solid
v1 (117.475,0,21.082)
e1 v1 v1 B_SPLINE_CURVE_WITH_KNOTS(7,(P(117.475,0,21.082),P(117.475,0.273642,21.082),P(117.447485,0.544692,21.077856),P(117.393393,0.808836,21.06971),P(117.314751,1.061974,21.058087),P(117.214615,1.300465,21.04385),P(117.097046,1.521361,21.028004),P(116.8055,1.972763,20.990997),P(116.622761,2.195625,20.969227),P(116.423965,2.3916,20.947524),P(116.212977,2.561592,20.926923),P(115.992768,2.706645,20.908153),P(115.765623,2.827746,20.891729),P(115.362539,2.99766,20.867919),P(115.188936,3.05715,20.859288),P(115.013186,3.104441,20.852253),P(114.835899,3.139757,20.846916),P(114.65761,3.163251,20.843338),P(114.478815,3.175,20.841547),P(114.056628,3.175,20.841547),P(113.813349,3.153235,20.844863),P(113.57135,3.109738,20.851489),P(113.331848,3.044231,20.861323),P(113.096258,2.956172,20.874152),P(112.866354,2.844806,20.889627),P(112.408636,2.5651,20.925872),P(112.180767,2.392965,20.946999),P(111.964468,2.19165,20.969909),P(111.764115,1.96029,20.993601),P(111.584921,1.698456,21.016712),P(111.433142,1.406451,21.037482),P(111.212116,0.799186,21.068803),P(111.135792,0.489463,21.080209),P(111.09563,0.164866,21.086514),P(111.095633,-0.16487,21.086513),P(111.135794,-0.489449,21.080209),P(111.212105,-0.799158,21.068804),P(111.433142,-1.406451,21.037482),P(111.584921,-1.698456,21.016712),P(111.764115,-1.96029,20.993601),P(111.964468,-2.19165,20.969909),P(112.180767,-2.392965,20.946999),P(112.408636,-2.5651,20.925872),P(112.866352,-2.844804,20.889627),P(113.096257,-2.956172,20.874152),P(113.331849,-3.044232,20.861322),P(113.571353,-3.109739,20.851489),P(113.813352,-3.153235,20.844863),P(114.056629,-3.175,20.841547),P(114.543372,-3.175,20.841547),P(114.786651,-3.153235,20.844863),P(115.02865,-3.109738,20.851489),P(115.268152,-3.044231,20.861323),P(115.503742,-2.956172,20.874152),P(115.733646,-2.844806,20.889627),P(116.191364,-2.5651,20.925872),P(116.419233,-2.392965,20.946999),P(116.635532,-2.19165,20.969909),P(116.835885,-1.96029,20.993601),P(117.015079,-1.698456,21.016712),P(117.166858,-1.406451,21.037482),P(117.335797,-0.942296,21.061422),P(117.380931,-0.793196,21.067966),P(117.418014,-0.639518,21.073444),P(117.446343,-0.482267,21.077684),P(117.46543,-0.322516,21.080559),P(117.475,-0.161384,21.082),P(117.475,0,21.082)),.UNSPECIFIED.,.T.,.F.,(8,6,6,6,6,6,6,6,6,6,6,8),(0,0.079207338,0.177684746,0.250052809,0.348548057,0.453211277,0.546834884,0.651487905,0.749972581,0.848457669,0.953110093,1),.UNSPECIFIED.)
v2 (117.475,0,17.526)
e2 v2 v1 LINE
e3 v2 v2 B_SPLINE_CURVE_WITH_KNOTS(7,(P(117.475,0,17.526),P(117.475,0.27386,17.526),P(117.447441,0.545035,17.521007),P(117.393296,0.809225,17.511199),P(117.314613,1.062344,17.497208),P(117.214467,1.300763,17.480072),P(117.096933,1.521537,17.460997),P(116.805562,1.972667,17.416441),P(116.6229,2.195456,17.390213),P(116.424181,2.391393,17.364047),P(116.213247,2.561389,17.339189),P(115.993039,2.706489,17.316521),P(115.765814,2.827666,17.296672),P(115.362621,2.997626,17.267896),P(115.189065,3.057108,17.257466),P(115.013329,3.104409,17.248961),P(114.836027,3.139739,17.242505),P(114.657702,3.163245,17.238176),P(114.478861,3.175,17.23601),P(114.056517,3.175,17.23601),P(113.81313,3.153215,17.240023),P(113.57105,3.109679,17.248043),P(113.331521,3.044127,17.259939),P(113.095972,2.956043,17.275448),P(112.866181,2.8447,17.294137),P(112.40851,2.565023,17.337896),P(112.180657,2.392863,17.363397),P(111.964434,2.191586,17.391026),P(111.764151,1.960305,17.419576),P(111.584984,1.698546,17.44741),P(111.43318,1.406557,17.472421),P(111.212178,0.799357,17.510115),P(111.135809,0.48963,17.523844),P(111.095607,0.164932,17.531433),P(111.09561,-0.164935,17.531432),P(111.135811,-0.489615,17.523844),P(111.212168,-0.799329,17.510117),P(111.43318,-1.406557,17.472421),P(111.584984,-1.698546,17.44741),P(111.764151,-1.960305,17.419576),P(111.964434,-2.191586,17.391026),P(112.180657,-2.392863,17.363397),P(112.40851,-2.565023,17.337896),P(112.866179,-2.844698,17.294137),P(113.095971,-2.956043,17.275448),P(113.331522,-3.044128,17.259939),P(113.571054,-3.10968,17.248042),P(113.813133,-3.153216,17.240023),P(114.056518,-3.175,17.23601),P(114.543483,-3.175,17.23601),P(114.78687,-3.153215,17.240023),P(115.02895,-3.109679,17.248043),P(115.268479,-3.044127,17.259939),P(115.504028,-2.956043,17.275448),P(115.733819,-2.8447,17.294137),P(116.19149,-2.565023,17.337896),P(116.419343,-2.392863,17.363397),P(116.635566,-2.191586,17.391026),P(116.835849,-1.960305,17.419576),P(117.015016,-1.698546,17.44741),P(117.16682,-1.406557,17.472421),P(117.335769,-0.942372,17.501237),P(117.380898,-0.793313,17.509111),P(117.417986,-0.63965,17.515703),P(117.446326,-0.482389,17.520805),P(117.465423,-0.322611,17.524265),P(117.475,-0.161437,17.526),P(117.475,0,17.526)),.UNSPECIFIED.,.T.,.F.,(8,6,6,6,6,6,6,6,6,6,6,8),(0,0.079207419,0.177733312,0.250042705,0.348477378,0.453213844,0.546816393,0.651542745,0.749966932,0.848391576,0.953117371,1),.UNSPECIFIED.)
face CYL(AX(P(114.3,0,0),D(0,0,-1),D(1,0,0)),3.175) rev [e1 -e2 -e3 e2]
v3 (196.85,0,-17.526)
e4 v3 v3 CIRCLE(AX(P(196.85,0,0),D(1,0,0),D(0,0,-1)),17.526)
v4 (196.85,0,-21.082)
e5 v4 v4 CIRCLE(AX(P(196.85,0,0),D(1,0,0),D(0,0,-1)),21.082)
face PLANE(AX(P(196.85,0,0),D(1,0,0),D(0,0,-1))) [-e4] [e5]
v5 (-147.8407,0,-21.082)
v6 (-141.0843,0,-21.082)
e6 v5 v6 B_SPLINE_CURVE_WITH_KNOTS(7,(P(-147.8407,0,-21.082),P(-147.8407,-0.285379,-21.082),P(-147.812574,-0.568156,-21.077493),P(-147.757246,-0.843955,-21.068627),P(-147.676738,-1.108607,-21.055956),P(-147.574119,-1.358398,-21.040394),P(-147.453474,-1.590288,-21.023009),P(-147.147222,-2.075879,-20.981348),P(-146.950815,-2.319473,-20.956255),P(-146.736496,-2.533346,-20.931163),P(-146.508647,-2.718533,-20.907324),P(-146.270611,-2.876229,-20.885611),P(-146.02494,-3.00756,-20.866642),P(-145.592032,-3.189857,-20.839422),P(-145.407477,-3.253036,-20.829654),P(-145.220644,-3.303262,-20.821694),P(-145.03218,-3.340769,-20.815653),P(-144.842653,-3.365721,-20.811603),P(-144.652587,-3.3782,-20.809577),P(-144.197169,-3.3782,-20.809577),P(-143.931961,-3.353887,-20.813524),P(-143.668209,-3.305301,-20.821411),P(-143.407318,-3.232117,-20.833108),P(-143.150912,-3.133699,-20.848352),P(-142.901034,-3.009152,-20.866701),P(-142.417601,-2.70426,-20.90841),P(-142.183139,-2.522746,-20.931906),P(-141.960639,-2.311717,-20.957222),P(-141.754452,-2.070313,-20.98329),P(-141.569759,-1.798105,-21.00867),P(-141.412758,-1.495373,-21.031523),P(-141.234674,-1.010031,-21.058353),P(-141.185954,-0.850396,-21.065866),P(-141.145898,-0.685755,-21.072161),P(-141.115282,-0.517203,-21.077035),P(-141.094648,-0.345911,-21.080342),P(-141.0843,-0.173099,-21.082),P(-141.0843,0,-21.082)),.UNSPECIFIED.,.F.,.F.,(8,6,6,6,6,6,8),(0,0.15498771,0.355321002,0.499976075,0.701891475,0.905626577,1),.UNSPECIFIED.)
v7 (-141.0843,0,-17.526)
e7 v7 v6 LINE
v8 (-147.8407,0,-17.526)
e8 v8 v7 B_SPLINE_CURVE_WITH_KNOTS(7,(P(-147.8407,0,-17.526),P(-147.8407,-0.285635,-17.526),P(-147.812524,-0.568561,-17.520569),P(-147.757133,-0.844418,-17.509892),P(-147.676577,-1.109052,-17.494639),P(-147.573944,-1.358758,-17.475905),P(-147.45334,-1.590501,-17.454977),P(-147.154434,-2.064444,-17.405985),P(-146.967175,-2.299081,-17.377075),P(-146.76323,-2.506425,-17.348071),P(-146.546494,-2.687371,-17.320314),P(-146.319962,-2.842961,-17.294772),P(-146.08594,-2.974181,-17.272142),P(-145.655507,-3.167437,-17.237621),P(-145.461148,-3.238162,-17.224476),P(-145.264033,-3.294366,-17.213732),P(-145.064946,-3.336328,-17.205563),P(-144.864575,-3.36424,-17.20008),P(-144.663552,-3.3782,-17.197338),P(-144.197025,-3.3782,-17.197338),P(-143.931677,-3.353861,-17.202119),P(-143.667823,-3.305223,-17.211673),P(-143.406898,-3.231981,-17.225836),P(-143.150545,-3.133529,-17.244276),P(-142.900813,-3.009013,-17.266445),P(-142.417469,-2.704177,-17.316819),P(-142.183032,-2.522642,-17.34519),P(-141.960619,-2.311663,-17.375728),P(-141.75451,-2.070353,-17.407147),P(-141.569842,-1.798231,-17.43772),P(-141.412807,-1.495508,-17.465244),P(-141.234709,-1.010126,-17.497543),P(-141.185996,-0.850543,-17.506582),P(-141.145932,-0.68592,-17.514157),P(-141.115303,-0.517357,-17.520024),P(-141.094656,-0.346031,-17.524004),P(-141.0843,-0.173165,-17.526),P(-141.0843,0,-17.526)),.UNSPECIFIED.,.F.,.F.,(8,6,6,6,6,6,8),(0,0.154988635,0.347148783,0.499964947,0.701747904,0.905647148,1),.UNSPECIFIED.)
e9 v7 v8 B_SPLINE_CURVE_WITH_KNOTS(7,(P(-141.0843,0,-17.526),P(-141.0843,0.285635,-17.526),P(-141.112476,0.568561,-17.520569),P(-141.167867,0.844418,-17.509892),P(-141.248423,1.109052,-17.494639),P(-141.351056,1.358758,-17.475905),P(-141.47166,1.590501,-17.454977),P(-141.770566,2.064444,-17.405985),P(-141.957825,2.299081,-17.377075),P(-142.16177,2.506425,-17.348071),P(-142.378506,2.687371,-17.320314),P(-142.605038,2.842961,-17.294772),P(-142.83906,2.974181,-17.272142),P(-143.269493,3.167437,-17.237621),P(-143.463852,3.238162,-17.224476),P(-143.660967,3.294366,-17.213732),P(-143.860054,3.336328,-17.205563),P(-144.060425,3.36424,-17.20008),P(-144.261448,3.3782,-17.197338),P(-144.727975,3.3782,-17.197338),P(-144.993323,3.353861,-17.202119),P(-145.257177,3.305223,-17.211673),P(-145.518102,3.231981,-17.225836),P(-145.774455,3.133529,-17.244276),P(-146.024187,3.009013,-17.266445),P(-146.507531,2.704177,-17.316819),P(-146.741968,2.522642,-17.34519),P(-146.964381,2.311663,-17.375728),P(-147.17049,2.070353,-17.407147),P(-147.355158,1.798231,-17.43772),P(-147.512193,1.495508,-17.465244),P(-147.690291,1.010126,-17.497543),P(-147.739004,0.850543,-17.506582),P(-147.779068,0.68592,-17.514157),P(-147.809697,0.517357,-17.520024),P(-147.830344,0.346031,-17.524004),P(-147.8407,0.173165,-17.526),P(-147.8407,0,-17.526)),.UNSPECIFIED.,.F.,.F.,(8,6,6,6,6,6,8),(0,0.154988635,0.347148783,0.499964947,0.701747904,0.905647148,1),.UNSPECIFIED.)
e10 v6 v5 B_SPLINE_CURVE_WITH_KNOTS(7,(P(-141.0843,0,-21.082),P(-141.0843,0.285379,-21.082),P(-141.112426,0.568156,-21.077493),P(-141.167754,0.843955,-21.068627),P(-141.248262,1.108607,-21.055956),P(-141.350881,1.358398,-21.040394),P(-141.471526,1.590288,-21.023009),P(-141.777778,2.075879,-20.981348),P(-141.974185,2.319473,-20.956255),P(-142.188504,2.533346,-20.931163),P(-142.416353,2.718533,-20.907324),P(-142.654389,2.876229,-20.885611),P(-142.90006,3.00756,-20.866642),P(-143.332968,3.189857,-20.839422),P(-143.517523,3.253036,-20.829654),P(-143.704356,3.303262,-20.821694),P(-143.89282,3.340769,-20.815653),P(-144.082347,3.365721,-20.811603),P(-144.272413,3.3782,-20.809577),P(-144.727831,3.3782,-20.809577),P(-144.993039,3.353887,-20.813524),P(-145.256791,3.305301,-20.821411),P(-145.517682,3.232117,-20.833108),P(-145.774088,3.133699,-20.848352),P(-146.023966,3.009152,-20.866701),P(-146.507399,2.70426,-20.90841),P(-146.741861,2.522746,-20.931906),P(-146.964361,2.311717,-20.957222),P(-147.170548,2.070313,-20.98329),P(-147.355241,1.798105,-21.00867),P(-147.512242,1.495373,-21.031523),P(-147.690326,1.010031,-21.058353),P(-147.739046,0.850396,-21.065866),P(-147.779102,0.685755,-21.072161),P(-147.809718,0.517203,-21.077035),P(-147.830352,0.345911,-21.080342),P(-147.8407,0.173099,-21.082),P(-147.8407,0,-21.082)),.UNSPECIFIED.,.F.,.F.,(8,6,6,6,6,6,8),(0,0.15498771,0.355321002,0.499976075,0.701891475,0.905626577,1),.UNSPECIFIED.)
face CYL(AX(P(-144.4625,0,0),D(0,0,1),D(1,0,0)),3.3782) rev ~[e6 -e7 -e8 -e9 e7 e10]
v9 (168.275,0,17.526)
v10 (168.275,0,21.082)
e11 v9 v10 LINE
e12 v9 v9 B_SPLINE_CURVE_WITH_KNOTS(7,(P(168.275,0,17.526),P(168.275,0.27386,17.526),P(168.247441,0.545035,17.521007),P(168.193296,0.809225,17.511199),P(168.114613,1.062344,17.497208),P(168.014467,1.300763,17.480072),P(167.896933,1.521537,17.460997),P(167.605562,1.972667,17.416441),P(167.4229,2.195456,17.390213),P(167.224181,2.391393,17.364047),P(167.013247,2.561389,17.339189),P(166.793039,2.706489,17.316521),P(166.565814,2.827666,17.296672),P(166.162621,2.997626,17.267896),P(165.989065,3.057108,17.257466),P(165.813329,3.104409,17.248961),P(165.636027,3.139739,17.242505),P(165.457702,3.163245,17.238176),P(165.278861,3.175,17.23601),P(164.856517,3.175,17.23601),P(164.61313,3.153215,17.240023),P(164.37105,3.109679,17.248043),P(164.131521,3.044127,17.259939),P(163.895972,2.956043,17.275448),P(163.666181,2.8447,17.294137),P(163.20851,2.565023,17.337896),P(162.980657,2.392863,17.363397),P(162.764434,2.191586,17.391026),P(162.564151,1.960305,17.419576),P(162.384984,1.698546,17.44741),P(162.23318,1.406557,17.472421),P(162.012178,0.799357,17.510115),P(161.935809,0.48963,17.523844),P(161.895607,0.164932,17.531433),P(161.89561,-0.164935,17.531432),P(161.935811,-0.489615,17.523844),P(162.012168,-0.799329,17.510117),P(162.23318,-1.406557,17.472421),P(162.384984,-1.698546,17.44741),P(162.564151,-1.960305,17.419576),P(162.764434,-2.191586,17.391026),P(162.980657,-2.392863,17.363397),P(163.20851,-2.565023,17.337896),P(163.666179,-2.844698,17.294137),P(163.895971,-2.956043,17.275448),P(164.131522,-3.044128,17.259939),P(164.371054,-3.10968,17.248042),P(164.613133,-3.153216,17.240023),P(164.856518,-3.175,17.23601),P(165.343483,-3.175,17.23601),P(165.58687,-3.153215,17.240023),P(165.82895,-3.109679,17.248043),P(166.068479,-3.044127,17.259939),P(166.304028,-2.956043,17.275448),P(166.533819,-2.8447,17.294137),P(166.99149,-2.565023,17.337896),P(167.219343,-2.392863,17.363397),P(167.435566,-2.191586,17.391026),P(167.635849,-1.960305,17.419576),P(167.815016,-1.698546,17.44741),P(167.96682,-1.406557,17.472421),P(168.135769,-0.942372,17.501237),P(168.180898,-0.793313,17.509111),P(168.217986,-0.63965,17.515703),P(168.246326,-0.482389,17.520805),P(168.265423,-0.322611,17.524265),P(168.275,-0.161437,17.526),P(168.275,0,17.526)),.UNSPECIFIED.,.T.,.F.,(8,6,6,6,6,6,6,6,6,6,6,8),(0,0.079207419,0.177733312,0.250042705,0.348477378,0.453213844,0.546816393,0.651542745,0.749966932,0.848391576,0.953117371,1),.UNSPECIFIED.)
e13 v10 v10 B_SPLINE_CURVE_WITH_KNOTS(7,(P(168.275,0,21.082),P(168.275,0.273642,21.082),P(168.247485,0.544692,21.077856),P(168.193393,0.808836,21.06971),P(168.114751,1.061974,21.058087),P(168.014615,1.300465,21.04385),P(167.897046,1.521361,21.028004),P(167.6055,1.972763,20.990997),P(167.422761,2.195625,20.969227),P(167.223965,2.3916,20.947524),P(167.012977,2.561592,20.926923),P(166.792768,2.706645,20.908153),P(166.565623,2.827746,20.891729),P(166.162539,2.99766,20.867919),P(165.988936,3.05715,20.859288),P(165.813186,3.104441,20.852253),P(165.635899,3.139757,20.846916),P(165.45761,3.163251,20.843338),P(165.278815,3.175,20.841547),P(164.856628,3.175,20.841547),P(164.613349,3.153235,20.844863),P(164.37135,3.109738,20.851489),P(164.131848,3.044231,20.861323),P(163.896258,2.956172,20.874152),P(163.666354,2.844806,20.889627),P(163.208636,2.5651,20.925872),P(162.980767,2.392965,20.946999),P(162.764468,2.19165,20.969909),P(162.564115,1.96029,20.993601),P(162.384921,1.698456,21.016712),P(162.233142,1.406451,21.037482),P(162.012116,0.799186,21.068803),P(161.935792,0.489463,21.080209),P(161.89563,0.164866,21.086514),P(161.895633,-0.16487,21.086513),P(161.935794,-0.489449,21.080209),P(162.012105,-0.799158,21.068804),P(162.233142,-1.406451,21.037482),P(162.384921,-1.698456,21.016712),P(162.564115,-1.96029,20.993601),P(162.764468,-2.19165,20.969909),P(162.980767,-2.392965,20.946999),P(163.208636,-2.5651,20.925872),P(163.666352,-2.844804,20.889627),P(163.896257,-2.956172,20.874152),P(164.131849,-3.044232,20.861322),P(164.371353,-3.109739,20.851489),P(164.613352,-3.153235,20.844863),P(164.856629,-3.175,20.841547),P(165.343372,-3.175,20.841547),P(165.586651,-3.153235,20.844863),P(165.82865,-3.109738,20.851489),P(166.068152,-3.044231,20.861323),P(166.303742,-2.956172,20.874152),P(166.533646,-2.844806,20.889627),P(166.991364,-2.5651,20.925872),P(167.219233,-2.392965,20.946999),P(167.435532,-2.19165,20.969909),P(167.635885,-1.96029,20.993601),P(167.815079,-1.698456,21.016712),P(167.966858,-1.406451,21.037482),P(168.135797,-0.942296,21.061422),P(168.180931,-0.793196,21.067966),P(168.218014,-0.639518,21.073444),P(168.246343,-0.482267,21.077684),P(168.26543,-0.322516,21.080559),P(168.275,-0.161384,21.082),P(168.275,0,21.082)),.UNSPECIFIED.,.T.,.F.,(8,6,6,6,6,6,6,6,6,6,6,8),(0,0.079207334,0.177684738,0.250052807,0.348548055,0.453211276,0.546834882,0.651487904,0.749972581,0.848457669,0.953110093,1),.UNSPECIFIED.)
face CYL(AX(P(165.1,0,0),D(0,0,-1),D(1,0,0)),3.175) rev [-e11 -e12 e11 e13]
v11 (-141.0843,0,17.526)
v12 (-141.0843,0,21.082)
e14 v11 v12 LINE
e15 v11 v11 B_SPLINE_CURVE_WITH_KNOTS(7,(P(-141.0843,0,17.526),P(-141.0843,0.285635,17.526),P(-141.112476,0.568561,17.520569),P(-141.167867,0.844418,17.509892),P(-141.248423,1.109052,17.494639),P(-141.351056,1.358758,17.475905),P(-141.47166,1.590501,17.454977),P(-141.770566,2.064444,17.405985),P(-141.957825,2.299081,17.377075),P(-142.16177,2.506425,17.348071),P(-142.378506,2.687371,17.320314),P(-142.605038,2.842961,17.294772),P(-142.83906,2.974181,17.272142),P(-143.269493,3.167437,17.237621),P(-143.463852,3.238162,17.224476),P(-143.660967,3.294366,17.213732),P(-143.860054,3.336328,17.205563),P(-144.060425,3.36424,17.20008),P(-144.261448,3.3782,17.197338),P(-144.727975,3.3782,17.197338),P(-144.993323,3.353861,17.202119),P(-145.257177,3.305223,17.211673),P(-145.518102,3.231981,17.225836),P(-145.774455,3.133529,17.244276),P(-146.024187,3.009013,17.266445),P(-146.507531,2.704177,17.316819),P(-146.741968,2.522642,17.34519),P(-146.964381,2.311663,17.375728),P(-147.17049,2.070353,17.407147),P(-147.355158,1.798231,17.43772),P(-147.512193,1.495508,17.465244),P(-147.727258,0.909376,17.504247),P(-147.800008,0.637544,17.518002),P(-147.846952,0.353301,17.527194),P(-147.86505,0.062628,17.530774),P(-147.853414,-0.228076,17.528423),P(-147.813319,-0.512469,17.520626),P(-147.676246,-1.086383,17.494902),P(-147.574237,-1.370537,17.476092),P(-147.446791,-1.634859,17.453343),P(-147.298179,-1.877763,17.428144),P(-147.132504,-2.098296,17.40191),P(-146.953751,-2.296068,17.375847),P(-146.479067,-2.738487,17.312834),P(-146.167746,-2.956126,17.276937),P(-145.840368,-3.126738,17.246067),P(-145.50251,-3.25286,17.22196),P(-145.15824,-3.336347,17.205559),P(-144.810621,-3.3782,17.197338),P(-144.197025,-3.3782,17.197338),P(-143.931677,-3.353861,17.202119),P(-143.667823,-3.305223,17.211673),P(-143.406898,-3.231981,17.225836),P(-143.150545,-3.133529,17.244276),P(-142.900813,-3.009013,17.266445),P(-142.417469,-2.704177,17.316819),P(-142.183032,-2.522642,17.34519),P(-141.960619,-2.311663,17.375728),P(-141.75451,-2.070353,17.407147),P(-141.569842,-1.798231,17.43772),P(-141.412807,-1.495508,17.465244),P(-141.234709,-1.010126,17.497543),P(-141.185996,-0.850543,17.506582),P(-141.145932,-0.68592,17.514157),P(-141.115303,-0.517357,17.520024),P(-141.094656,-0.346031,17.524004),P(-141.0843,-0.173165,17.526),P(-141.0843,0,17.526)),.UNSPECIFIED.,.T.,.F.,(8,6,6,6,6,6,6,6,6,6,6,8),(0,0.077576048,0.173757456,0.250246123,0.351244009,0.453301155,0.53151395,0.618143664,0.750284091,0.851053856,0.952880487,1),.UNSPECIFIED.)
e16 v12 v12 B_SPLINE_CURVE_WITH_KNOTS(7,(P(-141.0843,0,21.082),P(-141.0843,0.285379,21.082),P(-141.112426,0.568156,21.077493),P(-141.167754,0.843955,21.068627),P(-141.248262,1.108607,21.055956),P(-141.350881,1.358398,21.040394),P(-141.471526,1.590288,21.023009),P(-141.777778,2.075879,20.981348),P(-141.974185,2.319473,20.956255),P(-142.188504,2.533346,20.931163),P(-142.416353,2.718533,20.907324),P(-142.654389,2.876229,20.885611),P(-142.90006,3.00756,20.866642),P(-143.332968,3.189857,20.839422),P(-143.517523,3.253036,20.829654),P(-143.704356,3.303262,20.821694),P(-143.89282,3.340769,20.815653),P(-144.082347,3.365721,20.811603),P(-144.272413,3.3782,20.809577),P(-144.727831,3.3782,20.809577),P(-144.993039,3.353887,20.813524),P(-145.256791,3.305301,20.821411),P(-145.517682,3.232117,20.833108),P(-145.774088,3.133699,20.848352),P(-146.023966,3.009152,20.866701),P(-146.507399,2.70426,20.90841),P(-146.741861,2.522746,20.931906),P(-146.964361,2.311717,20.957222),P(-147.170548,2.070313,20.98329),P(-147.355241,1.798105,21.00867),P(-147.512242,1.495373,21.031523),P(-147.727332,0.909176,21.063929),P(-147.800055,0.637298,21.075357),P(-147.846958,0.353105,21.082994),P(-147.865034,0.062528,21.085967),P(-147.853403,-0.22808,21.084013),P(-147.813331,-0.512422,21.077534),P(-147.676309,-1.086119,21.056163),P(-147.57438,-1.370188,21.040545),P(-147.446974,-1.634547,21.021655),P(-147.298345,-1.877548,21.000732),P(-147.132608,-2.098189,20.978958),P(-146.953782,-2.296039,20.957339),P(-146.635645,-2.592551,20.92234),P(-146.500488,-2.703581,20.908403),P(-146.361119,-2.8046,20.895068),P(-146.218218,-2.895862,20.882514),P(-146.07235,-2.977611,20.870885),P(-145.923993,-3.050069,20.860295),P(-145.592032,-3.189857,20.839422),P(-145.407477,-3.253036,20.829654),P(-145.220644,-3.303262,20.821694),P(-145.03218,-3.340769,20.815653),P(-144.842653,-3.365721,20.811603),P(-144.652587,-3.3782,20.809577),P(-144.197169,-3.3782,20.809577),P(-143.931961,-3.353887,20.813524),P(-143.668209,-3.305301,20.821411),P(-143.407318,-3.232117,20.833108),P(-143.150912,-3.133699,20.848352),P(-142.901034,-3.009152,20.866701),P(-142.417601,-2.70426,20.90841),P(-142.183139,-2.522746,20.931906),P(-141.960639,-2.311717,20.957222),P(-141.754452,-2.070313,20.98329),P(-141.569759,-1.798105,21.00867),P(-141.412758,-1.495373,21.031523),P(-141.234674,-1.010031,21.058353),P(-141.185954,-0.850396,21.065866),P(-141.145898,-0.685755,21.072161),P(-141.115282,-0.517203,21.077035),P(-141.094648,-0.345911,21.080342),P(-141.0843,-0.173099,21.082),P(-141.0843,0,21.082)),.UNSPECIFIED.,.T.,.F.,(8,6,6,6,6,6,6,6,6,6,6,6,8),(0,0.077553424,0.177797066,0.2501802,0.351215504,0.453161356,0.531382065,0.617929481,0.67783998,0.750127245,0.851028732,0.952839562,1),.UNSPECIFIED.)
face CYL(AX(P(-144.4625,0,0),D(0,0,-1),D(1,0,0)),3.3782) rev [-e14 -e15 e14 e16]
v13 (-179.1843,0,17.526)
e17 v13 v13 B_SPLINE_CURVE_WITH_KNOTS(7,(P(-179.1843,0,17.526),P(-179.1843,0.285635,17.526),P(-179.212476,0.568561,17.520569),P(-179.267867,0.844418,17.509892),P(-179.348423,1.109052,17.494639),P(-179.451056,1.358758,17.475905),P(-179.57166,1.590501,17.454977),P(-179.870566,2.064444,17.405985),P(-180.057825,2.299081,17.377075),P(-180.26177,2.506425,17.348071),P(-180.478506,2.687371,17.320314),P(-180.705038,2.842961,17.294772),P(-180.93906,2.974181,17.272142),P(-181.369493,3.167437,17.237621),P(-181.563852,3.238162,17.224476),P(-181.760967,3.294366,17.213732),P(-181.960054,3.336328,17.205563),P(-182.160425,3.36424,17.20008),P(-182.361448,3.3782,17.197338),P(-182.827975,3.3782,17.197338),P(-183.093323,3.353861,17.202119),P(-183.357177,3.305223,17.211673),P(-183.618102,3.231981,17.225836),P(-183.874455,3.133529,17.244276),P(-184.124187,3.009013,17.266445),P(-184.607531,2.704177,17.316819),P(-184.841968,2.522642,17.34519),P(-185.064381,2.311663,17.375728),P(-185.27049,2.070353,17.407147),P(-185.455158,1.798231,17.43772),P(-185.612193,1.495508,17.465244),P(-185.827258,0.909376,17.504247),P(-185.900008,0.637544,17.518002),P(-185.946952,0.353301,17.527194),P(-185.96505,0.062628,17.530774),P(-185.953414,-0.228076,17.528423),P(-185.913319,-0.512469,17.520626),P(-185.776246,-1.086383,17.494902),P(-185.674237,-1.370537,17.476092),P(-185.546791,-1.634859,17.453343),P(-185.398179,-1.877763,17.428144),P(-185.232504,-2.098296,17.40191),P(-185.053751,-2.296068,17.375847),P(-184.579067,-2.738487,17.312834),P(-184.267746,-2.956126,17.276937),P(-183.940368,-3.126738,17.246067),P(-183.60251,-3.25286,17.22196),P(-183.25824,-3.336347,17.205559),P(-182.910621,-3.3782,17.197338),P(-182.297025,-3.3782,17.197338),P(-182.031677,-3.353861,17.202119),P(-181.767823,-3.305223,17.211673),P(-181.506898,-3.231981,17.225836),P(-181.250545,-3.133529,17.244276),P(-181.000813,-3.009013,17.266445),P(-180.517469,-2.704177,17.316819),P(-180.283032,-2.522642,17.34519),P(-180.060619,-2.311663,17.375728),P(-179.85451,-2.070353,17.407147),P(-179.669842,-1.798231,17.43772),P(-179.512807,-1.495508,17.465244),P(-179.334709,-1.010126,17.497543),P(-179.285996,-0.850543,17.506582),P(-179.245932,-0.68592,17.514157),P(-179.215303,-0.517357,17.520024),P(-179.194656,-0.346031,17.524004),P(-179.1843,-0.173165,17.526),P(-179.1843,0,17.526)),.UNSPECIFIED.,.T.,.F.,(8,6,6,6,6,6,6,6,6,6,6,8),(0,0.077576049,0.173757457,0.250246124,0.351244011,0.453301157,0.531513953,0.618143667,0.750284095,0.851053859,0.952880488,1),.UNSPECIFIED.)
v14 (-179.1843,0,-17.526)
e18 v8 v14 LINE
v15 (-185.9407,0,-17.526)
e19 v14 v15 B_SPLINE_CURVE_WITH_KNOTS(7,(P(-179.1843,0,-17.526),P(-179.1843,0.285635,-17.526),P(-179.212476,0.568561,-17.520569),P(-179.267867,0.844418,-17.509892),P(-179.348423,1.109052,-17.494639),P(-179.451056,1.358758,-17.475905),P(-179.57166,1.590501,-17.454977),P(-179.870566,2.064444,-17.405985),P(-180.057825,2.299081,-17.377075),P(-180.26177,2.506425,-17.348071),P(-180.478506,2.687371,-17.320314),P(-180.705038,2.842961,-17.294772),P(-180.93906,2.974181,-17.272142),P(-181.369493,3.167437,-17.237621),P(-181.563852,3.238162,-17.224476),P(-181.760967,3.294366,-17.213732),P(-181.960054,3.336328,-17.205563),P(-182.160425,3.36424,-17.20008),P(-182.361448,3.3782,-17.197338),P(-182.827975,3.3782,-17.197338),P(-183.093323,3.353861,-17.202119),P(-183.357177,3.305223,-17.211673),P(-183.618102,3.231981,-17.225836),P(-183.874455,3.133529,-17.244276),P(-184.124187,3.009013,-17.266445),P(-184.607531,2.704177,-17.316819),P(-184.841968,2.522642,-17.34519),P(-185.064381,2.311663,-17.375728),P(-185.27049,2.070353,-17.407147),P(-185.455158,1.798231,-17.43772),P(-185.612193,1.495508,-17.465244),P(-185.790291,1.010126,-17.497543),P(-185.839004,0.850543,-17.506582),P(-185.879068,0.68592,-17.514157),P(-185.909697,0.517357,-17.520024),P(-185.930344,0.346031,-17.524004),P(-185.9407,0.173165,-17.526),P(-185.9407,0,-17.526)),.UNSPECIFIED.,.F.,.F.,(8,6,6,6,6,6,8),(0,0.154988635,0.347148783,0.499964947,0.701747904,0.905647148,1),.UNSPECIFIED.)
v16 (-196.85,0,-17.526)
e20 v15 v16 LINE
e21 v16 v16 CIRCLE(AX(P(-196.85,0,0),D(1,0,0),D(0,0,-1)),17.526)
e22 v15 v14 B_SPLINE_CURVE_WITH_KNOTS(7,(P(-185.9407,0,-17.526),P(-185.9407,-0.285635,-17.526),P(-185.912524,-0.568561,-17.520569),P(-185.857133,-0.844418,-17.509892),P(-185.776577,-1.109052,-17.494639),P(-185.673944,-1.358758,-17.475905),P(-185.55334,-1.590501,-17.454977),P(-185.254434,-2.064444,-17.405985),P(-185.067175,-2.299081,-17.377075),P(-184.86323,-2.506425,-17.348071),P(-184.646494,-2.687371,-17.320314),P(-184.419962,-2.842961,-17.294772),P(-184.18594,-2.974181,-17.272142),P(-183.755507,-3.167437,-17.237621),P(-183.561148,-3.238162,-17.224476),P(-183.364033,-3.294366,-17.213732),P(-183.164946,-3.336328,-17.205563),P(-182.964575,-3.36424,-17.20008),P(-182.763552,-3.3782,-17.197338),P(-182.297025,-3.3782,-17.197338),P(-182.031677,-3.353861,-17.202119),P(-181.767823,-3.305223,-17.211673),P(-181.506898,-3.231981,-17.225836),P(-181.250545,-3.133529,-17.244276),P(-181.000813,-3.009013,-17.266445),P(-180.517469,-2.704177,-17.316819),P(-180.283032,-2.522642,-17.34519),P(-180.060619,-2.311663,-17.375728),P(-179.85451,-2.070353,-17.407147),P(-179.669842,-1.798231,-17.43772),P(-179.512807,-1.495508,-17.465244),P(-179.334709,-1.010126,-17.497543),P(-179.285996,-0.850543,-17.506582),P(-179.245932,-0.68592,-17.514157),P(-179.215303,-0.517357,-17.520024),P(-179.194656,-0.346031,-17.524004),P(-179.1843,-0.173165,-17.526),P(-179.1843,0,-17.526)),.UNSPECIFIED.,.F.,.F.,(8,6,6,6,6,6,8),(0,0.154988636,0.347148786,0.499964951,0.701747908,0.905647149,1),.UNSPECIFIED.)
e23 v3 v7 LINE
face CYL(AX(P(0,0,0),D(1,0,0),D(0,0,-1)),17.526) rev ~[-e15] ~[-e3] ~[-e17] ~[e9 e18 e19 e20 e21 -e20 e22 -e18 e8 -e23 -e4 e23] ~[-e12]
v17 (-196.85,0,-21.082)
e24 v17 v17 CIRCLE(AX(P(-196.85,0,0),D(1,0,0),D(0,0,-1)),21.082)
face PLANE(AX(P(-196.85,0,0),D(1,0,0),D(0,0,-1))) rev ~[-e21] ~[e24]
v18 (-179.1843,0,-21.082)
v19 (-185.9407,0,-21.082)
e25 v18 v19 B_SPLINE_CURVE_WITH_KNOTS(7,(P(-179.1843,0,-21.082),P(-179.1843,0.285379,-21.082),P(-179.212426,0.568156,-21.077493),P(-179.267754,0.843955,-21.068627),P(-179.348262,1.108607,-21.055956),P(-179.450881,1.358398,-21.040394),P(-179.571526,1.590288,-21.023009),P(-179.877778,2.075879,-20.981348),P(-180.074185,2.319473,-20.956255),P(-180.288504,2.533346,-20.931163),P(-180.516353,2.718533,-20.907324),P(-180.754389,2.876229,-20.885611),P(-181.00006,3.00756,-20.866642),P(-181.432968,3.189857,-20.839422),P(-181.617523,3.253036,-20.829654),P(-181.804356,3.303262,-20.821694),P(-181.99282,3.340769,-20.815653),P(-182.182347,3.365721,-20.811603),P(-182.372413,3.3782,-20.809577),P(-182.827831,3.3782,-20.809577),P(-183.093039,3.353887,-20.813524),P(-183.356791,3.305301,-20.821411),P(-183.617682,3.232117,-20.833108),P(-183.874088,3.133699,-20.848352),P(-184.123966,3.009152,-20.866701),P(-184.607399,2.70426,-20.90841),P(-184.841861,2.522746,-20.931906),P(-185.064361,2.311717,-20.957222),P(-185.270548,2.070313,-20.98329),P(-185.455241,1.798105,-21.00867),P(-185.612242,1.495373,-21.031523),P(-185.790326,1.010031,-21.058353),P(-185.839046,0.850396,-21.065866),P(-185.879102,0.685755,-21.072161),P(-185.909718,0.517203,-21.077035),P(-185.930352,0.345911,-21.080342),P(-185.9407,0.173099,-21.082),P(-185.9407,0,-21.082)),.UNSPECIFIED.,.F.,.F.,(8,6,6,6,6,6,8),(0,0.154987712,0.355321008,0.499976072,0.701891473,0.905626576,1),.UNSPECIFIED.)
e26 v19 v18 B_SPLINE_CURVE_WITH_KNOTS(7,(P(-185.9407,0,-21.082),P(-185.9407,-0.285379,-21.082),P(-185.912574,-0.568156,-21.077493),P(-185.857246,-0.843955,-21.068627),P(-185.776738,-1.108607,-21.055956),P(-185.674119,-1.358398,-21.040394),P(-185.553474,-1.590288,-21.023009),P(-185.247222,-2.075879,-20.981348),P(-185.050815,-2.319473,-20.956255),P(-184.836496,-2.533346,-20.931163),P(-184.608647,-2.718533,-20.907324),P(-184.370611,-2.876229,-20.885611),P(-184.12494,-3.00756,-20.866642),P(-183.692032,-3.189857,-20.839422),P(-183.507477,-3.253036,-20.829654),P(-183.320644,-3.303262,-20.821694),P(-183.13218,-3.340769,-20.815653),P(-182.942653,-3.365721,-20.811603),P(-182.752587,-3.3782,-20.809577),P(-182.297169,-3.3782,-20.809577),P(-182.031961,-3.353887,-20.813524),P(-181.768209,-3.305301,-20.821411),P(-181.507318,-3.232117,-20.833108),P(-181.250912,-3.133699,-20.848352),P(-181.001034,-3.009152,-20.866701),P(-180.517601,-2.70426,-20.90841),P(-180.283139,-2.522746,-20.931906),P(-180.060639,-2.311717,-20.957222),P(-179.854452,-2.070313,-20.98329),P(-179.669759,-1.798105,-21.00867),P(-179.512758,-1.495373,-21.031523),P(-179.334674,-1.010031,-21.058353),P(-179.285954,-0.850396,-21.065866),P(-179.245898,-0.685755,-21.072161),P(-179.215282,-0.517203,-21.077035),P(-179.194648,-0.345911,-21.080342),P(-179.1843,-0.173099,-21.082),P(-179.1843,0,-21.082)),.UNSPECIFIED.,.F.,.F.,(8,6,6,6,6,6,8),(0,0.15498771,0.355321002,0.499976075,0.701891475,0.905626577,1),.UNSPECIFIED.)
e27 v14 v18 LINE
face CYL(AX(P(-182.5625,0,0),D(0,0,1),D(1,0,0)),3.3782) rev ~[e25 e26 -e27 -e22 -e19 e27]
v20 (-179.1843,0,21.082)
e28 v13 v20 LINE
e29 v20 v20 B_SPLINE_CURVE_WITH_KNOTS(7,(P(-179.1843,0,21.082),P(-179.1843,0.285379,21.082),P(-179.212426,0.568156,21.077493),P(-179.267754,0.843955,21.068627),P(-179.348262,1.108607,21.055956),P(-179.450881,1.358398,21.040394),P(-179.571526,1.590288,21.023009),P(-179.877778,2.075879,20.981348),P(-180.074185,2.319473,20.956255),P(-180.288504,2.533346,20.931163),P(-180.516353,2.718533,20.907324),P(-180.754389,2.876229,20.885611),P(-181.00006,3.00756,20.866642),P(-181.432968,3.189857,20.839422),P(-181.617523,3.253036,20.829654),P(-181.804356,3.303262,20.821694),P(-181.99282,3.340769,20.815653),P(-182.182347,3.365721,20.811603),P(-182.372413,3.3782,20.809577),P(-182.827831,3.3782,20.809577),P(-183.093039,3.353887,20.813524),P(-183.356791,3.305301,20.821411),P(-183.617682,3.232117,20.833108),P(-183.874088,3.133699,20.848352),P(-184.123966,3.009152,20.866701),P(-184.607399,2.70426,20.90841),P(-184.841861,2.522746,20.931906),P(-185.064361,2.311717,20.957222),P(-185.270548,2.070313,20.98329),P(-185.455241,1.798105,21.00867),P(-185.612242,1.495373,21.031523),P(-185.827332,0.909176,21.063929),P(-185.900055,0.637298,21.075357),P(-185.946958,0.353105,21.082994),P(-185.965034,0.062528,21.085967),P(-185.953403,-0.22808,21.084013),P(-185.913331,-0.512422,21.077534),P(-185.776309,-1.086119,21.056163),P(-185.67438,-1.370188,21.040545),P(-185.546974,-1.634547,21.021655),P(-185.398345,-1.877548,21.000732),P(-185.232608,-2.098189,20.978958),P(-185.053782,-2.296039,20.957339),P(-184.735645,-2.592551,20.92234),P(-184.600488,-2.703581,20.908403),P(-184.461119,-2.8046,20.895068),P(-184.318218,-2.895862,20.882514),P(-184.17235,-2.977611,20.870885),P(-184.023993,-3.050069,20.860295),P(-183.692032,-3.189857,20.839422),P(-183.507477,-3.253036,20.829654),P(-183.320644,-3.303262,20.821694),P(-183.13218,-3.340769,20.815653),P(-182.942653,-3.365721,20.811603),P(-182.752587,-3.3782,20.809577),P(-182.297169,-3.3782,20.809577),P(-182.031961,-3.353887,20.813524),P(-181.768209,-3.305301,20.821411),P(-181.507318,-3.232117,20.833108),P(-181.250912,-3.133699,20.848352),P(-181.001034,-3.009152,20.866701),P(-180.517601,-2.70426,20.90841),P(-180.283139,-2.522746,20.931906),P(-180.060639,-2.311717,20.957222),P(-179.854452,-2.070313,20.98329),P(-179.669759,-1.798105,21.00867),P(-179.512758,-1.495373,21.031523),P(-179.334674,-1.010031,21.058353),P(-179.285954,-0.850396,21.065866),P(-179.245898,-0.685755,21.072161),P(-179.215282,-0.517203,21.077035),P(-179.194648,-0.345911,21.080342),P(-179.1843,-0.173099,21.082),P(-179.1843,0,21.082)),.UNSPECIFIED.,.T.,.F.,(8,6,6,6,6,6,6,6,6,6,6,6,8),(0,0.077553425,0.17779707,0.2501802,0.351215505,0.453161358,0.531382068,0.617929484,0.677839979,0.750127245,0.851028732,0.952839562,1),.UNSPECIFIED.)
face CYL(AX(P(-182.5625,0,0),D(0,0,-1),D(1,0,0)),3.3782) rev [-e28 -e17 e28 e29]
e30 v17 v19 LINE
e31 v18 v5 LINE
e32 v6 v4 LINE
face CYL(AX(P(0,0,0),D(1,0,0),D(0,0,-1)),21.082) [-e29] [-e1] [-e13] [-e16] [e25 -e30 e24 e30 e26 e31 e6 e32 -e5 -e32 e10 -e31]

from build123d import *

# Parameters (mm, degrees)
SKETCH1_R                = 21.082
SKETCH1_R_2              = 17.526
BOSS_EXTRUDE1_DEPTH      = 196.85
BOSS_EXTRUDE1_DEPTH_BACK = 196.85
SKETCH2_R                = 3.3782
CUT_EXTRUDE1_DEPTH       = 22.082
CUT_EXTRUDE1_DEPTH_BACK  = 22.082
SKETCH3_R                = 3.175
CUT_EXTRUDE2_DEPTH       = 22.0820001


with BuildPart() as part:
    # Sketch1 → Boss-Extrude1 (new body, two sides)
    with BuildSketch(Plane(origin=(0, 0, 0), x_dir=(0, 0, -1), z_dir=(1, 0, 0))) as boss_extrude1_sk:
        Circle(SKETCH1_R)
        Circle(SKETCH1_R_2, mode=Mode.SUBTRACT)
    extrude(amount=BOSS_EXTRUDE1_DEPTH)
    extrude(boss_extrude1_sk.sketch, amount=-BOSS_EXTRUDE1_DEPTH_BACK)

    # Sketch2 → Cut-Extrude1 (cut, two sides)
    with BuildSketch(Plane.XY) as cut_extrude1_sk:
        with Locations((-144.4625, 0)):
            Circle(SKETCH2_R)
        with Locations((-182.5625, 0)):
            Circle(SKETCH2_R)
    extrude(amount=CUT_EXTRUDE1_DEPTH, mode=Mode.SUBTRACT)
    extrude(cut_extrude1_sk.sketch, amount=-CUT_EXTRUDE1_DEPTH_BACK, mode=Mode.SUBTRACT)

    # Sketch3 → Cut-Extrude2 (cut, through all)
    with BuildSketch(Plane.XY):
        with Locations((165.1, 0)):
            Circle(SKETCH3_R)
        with Locations((114.3, 0)):
            Circle(SKETCH3_R)
    extrude(amount=CUT_EXTRUDE2_DEPTH, mode=Mode.SUBTRACT)


solid = part.part
